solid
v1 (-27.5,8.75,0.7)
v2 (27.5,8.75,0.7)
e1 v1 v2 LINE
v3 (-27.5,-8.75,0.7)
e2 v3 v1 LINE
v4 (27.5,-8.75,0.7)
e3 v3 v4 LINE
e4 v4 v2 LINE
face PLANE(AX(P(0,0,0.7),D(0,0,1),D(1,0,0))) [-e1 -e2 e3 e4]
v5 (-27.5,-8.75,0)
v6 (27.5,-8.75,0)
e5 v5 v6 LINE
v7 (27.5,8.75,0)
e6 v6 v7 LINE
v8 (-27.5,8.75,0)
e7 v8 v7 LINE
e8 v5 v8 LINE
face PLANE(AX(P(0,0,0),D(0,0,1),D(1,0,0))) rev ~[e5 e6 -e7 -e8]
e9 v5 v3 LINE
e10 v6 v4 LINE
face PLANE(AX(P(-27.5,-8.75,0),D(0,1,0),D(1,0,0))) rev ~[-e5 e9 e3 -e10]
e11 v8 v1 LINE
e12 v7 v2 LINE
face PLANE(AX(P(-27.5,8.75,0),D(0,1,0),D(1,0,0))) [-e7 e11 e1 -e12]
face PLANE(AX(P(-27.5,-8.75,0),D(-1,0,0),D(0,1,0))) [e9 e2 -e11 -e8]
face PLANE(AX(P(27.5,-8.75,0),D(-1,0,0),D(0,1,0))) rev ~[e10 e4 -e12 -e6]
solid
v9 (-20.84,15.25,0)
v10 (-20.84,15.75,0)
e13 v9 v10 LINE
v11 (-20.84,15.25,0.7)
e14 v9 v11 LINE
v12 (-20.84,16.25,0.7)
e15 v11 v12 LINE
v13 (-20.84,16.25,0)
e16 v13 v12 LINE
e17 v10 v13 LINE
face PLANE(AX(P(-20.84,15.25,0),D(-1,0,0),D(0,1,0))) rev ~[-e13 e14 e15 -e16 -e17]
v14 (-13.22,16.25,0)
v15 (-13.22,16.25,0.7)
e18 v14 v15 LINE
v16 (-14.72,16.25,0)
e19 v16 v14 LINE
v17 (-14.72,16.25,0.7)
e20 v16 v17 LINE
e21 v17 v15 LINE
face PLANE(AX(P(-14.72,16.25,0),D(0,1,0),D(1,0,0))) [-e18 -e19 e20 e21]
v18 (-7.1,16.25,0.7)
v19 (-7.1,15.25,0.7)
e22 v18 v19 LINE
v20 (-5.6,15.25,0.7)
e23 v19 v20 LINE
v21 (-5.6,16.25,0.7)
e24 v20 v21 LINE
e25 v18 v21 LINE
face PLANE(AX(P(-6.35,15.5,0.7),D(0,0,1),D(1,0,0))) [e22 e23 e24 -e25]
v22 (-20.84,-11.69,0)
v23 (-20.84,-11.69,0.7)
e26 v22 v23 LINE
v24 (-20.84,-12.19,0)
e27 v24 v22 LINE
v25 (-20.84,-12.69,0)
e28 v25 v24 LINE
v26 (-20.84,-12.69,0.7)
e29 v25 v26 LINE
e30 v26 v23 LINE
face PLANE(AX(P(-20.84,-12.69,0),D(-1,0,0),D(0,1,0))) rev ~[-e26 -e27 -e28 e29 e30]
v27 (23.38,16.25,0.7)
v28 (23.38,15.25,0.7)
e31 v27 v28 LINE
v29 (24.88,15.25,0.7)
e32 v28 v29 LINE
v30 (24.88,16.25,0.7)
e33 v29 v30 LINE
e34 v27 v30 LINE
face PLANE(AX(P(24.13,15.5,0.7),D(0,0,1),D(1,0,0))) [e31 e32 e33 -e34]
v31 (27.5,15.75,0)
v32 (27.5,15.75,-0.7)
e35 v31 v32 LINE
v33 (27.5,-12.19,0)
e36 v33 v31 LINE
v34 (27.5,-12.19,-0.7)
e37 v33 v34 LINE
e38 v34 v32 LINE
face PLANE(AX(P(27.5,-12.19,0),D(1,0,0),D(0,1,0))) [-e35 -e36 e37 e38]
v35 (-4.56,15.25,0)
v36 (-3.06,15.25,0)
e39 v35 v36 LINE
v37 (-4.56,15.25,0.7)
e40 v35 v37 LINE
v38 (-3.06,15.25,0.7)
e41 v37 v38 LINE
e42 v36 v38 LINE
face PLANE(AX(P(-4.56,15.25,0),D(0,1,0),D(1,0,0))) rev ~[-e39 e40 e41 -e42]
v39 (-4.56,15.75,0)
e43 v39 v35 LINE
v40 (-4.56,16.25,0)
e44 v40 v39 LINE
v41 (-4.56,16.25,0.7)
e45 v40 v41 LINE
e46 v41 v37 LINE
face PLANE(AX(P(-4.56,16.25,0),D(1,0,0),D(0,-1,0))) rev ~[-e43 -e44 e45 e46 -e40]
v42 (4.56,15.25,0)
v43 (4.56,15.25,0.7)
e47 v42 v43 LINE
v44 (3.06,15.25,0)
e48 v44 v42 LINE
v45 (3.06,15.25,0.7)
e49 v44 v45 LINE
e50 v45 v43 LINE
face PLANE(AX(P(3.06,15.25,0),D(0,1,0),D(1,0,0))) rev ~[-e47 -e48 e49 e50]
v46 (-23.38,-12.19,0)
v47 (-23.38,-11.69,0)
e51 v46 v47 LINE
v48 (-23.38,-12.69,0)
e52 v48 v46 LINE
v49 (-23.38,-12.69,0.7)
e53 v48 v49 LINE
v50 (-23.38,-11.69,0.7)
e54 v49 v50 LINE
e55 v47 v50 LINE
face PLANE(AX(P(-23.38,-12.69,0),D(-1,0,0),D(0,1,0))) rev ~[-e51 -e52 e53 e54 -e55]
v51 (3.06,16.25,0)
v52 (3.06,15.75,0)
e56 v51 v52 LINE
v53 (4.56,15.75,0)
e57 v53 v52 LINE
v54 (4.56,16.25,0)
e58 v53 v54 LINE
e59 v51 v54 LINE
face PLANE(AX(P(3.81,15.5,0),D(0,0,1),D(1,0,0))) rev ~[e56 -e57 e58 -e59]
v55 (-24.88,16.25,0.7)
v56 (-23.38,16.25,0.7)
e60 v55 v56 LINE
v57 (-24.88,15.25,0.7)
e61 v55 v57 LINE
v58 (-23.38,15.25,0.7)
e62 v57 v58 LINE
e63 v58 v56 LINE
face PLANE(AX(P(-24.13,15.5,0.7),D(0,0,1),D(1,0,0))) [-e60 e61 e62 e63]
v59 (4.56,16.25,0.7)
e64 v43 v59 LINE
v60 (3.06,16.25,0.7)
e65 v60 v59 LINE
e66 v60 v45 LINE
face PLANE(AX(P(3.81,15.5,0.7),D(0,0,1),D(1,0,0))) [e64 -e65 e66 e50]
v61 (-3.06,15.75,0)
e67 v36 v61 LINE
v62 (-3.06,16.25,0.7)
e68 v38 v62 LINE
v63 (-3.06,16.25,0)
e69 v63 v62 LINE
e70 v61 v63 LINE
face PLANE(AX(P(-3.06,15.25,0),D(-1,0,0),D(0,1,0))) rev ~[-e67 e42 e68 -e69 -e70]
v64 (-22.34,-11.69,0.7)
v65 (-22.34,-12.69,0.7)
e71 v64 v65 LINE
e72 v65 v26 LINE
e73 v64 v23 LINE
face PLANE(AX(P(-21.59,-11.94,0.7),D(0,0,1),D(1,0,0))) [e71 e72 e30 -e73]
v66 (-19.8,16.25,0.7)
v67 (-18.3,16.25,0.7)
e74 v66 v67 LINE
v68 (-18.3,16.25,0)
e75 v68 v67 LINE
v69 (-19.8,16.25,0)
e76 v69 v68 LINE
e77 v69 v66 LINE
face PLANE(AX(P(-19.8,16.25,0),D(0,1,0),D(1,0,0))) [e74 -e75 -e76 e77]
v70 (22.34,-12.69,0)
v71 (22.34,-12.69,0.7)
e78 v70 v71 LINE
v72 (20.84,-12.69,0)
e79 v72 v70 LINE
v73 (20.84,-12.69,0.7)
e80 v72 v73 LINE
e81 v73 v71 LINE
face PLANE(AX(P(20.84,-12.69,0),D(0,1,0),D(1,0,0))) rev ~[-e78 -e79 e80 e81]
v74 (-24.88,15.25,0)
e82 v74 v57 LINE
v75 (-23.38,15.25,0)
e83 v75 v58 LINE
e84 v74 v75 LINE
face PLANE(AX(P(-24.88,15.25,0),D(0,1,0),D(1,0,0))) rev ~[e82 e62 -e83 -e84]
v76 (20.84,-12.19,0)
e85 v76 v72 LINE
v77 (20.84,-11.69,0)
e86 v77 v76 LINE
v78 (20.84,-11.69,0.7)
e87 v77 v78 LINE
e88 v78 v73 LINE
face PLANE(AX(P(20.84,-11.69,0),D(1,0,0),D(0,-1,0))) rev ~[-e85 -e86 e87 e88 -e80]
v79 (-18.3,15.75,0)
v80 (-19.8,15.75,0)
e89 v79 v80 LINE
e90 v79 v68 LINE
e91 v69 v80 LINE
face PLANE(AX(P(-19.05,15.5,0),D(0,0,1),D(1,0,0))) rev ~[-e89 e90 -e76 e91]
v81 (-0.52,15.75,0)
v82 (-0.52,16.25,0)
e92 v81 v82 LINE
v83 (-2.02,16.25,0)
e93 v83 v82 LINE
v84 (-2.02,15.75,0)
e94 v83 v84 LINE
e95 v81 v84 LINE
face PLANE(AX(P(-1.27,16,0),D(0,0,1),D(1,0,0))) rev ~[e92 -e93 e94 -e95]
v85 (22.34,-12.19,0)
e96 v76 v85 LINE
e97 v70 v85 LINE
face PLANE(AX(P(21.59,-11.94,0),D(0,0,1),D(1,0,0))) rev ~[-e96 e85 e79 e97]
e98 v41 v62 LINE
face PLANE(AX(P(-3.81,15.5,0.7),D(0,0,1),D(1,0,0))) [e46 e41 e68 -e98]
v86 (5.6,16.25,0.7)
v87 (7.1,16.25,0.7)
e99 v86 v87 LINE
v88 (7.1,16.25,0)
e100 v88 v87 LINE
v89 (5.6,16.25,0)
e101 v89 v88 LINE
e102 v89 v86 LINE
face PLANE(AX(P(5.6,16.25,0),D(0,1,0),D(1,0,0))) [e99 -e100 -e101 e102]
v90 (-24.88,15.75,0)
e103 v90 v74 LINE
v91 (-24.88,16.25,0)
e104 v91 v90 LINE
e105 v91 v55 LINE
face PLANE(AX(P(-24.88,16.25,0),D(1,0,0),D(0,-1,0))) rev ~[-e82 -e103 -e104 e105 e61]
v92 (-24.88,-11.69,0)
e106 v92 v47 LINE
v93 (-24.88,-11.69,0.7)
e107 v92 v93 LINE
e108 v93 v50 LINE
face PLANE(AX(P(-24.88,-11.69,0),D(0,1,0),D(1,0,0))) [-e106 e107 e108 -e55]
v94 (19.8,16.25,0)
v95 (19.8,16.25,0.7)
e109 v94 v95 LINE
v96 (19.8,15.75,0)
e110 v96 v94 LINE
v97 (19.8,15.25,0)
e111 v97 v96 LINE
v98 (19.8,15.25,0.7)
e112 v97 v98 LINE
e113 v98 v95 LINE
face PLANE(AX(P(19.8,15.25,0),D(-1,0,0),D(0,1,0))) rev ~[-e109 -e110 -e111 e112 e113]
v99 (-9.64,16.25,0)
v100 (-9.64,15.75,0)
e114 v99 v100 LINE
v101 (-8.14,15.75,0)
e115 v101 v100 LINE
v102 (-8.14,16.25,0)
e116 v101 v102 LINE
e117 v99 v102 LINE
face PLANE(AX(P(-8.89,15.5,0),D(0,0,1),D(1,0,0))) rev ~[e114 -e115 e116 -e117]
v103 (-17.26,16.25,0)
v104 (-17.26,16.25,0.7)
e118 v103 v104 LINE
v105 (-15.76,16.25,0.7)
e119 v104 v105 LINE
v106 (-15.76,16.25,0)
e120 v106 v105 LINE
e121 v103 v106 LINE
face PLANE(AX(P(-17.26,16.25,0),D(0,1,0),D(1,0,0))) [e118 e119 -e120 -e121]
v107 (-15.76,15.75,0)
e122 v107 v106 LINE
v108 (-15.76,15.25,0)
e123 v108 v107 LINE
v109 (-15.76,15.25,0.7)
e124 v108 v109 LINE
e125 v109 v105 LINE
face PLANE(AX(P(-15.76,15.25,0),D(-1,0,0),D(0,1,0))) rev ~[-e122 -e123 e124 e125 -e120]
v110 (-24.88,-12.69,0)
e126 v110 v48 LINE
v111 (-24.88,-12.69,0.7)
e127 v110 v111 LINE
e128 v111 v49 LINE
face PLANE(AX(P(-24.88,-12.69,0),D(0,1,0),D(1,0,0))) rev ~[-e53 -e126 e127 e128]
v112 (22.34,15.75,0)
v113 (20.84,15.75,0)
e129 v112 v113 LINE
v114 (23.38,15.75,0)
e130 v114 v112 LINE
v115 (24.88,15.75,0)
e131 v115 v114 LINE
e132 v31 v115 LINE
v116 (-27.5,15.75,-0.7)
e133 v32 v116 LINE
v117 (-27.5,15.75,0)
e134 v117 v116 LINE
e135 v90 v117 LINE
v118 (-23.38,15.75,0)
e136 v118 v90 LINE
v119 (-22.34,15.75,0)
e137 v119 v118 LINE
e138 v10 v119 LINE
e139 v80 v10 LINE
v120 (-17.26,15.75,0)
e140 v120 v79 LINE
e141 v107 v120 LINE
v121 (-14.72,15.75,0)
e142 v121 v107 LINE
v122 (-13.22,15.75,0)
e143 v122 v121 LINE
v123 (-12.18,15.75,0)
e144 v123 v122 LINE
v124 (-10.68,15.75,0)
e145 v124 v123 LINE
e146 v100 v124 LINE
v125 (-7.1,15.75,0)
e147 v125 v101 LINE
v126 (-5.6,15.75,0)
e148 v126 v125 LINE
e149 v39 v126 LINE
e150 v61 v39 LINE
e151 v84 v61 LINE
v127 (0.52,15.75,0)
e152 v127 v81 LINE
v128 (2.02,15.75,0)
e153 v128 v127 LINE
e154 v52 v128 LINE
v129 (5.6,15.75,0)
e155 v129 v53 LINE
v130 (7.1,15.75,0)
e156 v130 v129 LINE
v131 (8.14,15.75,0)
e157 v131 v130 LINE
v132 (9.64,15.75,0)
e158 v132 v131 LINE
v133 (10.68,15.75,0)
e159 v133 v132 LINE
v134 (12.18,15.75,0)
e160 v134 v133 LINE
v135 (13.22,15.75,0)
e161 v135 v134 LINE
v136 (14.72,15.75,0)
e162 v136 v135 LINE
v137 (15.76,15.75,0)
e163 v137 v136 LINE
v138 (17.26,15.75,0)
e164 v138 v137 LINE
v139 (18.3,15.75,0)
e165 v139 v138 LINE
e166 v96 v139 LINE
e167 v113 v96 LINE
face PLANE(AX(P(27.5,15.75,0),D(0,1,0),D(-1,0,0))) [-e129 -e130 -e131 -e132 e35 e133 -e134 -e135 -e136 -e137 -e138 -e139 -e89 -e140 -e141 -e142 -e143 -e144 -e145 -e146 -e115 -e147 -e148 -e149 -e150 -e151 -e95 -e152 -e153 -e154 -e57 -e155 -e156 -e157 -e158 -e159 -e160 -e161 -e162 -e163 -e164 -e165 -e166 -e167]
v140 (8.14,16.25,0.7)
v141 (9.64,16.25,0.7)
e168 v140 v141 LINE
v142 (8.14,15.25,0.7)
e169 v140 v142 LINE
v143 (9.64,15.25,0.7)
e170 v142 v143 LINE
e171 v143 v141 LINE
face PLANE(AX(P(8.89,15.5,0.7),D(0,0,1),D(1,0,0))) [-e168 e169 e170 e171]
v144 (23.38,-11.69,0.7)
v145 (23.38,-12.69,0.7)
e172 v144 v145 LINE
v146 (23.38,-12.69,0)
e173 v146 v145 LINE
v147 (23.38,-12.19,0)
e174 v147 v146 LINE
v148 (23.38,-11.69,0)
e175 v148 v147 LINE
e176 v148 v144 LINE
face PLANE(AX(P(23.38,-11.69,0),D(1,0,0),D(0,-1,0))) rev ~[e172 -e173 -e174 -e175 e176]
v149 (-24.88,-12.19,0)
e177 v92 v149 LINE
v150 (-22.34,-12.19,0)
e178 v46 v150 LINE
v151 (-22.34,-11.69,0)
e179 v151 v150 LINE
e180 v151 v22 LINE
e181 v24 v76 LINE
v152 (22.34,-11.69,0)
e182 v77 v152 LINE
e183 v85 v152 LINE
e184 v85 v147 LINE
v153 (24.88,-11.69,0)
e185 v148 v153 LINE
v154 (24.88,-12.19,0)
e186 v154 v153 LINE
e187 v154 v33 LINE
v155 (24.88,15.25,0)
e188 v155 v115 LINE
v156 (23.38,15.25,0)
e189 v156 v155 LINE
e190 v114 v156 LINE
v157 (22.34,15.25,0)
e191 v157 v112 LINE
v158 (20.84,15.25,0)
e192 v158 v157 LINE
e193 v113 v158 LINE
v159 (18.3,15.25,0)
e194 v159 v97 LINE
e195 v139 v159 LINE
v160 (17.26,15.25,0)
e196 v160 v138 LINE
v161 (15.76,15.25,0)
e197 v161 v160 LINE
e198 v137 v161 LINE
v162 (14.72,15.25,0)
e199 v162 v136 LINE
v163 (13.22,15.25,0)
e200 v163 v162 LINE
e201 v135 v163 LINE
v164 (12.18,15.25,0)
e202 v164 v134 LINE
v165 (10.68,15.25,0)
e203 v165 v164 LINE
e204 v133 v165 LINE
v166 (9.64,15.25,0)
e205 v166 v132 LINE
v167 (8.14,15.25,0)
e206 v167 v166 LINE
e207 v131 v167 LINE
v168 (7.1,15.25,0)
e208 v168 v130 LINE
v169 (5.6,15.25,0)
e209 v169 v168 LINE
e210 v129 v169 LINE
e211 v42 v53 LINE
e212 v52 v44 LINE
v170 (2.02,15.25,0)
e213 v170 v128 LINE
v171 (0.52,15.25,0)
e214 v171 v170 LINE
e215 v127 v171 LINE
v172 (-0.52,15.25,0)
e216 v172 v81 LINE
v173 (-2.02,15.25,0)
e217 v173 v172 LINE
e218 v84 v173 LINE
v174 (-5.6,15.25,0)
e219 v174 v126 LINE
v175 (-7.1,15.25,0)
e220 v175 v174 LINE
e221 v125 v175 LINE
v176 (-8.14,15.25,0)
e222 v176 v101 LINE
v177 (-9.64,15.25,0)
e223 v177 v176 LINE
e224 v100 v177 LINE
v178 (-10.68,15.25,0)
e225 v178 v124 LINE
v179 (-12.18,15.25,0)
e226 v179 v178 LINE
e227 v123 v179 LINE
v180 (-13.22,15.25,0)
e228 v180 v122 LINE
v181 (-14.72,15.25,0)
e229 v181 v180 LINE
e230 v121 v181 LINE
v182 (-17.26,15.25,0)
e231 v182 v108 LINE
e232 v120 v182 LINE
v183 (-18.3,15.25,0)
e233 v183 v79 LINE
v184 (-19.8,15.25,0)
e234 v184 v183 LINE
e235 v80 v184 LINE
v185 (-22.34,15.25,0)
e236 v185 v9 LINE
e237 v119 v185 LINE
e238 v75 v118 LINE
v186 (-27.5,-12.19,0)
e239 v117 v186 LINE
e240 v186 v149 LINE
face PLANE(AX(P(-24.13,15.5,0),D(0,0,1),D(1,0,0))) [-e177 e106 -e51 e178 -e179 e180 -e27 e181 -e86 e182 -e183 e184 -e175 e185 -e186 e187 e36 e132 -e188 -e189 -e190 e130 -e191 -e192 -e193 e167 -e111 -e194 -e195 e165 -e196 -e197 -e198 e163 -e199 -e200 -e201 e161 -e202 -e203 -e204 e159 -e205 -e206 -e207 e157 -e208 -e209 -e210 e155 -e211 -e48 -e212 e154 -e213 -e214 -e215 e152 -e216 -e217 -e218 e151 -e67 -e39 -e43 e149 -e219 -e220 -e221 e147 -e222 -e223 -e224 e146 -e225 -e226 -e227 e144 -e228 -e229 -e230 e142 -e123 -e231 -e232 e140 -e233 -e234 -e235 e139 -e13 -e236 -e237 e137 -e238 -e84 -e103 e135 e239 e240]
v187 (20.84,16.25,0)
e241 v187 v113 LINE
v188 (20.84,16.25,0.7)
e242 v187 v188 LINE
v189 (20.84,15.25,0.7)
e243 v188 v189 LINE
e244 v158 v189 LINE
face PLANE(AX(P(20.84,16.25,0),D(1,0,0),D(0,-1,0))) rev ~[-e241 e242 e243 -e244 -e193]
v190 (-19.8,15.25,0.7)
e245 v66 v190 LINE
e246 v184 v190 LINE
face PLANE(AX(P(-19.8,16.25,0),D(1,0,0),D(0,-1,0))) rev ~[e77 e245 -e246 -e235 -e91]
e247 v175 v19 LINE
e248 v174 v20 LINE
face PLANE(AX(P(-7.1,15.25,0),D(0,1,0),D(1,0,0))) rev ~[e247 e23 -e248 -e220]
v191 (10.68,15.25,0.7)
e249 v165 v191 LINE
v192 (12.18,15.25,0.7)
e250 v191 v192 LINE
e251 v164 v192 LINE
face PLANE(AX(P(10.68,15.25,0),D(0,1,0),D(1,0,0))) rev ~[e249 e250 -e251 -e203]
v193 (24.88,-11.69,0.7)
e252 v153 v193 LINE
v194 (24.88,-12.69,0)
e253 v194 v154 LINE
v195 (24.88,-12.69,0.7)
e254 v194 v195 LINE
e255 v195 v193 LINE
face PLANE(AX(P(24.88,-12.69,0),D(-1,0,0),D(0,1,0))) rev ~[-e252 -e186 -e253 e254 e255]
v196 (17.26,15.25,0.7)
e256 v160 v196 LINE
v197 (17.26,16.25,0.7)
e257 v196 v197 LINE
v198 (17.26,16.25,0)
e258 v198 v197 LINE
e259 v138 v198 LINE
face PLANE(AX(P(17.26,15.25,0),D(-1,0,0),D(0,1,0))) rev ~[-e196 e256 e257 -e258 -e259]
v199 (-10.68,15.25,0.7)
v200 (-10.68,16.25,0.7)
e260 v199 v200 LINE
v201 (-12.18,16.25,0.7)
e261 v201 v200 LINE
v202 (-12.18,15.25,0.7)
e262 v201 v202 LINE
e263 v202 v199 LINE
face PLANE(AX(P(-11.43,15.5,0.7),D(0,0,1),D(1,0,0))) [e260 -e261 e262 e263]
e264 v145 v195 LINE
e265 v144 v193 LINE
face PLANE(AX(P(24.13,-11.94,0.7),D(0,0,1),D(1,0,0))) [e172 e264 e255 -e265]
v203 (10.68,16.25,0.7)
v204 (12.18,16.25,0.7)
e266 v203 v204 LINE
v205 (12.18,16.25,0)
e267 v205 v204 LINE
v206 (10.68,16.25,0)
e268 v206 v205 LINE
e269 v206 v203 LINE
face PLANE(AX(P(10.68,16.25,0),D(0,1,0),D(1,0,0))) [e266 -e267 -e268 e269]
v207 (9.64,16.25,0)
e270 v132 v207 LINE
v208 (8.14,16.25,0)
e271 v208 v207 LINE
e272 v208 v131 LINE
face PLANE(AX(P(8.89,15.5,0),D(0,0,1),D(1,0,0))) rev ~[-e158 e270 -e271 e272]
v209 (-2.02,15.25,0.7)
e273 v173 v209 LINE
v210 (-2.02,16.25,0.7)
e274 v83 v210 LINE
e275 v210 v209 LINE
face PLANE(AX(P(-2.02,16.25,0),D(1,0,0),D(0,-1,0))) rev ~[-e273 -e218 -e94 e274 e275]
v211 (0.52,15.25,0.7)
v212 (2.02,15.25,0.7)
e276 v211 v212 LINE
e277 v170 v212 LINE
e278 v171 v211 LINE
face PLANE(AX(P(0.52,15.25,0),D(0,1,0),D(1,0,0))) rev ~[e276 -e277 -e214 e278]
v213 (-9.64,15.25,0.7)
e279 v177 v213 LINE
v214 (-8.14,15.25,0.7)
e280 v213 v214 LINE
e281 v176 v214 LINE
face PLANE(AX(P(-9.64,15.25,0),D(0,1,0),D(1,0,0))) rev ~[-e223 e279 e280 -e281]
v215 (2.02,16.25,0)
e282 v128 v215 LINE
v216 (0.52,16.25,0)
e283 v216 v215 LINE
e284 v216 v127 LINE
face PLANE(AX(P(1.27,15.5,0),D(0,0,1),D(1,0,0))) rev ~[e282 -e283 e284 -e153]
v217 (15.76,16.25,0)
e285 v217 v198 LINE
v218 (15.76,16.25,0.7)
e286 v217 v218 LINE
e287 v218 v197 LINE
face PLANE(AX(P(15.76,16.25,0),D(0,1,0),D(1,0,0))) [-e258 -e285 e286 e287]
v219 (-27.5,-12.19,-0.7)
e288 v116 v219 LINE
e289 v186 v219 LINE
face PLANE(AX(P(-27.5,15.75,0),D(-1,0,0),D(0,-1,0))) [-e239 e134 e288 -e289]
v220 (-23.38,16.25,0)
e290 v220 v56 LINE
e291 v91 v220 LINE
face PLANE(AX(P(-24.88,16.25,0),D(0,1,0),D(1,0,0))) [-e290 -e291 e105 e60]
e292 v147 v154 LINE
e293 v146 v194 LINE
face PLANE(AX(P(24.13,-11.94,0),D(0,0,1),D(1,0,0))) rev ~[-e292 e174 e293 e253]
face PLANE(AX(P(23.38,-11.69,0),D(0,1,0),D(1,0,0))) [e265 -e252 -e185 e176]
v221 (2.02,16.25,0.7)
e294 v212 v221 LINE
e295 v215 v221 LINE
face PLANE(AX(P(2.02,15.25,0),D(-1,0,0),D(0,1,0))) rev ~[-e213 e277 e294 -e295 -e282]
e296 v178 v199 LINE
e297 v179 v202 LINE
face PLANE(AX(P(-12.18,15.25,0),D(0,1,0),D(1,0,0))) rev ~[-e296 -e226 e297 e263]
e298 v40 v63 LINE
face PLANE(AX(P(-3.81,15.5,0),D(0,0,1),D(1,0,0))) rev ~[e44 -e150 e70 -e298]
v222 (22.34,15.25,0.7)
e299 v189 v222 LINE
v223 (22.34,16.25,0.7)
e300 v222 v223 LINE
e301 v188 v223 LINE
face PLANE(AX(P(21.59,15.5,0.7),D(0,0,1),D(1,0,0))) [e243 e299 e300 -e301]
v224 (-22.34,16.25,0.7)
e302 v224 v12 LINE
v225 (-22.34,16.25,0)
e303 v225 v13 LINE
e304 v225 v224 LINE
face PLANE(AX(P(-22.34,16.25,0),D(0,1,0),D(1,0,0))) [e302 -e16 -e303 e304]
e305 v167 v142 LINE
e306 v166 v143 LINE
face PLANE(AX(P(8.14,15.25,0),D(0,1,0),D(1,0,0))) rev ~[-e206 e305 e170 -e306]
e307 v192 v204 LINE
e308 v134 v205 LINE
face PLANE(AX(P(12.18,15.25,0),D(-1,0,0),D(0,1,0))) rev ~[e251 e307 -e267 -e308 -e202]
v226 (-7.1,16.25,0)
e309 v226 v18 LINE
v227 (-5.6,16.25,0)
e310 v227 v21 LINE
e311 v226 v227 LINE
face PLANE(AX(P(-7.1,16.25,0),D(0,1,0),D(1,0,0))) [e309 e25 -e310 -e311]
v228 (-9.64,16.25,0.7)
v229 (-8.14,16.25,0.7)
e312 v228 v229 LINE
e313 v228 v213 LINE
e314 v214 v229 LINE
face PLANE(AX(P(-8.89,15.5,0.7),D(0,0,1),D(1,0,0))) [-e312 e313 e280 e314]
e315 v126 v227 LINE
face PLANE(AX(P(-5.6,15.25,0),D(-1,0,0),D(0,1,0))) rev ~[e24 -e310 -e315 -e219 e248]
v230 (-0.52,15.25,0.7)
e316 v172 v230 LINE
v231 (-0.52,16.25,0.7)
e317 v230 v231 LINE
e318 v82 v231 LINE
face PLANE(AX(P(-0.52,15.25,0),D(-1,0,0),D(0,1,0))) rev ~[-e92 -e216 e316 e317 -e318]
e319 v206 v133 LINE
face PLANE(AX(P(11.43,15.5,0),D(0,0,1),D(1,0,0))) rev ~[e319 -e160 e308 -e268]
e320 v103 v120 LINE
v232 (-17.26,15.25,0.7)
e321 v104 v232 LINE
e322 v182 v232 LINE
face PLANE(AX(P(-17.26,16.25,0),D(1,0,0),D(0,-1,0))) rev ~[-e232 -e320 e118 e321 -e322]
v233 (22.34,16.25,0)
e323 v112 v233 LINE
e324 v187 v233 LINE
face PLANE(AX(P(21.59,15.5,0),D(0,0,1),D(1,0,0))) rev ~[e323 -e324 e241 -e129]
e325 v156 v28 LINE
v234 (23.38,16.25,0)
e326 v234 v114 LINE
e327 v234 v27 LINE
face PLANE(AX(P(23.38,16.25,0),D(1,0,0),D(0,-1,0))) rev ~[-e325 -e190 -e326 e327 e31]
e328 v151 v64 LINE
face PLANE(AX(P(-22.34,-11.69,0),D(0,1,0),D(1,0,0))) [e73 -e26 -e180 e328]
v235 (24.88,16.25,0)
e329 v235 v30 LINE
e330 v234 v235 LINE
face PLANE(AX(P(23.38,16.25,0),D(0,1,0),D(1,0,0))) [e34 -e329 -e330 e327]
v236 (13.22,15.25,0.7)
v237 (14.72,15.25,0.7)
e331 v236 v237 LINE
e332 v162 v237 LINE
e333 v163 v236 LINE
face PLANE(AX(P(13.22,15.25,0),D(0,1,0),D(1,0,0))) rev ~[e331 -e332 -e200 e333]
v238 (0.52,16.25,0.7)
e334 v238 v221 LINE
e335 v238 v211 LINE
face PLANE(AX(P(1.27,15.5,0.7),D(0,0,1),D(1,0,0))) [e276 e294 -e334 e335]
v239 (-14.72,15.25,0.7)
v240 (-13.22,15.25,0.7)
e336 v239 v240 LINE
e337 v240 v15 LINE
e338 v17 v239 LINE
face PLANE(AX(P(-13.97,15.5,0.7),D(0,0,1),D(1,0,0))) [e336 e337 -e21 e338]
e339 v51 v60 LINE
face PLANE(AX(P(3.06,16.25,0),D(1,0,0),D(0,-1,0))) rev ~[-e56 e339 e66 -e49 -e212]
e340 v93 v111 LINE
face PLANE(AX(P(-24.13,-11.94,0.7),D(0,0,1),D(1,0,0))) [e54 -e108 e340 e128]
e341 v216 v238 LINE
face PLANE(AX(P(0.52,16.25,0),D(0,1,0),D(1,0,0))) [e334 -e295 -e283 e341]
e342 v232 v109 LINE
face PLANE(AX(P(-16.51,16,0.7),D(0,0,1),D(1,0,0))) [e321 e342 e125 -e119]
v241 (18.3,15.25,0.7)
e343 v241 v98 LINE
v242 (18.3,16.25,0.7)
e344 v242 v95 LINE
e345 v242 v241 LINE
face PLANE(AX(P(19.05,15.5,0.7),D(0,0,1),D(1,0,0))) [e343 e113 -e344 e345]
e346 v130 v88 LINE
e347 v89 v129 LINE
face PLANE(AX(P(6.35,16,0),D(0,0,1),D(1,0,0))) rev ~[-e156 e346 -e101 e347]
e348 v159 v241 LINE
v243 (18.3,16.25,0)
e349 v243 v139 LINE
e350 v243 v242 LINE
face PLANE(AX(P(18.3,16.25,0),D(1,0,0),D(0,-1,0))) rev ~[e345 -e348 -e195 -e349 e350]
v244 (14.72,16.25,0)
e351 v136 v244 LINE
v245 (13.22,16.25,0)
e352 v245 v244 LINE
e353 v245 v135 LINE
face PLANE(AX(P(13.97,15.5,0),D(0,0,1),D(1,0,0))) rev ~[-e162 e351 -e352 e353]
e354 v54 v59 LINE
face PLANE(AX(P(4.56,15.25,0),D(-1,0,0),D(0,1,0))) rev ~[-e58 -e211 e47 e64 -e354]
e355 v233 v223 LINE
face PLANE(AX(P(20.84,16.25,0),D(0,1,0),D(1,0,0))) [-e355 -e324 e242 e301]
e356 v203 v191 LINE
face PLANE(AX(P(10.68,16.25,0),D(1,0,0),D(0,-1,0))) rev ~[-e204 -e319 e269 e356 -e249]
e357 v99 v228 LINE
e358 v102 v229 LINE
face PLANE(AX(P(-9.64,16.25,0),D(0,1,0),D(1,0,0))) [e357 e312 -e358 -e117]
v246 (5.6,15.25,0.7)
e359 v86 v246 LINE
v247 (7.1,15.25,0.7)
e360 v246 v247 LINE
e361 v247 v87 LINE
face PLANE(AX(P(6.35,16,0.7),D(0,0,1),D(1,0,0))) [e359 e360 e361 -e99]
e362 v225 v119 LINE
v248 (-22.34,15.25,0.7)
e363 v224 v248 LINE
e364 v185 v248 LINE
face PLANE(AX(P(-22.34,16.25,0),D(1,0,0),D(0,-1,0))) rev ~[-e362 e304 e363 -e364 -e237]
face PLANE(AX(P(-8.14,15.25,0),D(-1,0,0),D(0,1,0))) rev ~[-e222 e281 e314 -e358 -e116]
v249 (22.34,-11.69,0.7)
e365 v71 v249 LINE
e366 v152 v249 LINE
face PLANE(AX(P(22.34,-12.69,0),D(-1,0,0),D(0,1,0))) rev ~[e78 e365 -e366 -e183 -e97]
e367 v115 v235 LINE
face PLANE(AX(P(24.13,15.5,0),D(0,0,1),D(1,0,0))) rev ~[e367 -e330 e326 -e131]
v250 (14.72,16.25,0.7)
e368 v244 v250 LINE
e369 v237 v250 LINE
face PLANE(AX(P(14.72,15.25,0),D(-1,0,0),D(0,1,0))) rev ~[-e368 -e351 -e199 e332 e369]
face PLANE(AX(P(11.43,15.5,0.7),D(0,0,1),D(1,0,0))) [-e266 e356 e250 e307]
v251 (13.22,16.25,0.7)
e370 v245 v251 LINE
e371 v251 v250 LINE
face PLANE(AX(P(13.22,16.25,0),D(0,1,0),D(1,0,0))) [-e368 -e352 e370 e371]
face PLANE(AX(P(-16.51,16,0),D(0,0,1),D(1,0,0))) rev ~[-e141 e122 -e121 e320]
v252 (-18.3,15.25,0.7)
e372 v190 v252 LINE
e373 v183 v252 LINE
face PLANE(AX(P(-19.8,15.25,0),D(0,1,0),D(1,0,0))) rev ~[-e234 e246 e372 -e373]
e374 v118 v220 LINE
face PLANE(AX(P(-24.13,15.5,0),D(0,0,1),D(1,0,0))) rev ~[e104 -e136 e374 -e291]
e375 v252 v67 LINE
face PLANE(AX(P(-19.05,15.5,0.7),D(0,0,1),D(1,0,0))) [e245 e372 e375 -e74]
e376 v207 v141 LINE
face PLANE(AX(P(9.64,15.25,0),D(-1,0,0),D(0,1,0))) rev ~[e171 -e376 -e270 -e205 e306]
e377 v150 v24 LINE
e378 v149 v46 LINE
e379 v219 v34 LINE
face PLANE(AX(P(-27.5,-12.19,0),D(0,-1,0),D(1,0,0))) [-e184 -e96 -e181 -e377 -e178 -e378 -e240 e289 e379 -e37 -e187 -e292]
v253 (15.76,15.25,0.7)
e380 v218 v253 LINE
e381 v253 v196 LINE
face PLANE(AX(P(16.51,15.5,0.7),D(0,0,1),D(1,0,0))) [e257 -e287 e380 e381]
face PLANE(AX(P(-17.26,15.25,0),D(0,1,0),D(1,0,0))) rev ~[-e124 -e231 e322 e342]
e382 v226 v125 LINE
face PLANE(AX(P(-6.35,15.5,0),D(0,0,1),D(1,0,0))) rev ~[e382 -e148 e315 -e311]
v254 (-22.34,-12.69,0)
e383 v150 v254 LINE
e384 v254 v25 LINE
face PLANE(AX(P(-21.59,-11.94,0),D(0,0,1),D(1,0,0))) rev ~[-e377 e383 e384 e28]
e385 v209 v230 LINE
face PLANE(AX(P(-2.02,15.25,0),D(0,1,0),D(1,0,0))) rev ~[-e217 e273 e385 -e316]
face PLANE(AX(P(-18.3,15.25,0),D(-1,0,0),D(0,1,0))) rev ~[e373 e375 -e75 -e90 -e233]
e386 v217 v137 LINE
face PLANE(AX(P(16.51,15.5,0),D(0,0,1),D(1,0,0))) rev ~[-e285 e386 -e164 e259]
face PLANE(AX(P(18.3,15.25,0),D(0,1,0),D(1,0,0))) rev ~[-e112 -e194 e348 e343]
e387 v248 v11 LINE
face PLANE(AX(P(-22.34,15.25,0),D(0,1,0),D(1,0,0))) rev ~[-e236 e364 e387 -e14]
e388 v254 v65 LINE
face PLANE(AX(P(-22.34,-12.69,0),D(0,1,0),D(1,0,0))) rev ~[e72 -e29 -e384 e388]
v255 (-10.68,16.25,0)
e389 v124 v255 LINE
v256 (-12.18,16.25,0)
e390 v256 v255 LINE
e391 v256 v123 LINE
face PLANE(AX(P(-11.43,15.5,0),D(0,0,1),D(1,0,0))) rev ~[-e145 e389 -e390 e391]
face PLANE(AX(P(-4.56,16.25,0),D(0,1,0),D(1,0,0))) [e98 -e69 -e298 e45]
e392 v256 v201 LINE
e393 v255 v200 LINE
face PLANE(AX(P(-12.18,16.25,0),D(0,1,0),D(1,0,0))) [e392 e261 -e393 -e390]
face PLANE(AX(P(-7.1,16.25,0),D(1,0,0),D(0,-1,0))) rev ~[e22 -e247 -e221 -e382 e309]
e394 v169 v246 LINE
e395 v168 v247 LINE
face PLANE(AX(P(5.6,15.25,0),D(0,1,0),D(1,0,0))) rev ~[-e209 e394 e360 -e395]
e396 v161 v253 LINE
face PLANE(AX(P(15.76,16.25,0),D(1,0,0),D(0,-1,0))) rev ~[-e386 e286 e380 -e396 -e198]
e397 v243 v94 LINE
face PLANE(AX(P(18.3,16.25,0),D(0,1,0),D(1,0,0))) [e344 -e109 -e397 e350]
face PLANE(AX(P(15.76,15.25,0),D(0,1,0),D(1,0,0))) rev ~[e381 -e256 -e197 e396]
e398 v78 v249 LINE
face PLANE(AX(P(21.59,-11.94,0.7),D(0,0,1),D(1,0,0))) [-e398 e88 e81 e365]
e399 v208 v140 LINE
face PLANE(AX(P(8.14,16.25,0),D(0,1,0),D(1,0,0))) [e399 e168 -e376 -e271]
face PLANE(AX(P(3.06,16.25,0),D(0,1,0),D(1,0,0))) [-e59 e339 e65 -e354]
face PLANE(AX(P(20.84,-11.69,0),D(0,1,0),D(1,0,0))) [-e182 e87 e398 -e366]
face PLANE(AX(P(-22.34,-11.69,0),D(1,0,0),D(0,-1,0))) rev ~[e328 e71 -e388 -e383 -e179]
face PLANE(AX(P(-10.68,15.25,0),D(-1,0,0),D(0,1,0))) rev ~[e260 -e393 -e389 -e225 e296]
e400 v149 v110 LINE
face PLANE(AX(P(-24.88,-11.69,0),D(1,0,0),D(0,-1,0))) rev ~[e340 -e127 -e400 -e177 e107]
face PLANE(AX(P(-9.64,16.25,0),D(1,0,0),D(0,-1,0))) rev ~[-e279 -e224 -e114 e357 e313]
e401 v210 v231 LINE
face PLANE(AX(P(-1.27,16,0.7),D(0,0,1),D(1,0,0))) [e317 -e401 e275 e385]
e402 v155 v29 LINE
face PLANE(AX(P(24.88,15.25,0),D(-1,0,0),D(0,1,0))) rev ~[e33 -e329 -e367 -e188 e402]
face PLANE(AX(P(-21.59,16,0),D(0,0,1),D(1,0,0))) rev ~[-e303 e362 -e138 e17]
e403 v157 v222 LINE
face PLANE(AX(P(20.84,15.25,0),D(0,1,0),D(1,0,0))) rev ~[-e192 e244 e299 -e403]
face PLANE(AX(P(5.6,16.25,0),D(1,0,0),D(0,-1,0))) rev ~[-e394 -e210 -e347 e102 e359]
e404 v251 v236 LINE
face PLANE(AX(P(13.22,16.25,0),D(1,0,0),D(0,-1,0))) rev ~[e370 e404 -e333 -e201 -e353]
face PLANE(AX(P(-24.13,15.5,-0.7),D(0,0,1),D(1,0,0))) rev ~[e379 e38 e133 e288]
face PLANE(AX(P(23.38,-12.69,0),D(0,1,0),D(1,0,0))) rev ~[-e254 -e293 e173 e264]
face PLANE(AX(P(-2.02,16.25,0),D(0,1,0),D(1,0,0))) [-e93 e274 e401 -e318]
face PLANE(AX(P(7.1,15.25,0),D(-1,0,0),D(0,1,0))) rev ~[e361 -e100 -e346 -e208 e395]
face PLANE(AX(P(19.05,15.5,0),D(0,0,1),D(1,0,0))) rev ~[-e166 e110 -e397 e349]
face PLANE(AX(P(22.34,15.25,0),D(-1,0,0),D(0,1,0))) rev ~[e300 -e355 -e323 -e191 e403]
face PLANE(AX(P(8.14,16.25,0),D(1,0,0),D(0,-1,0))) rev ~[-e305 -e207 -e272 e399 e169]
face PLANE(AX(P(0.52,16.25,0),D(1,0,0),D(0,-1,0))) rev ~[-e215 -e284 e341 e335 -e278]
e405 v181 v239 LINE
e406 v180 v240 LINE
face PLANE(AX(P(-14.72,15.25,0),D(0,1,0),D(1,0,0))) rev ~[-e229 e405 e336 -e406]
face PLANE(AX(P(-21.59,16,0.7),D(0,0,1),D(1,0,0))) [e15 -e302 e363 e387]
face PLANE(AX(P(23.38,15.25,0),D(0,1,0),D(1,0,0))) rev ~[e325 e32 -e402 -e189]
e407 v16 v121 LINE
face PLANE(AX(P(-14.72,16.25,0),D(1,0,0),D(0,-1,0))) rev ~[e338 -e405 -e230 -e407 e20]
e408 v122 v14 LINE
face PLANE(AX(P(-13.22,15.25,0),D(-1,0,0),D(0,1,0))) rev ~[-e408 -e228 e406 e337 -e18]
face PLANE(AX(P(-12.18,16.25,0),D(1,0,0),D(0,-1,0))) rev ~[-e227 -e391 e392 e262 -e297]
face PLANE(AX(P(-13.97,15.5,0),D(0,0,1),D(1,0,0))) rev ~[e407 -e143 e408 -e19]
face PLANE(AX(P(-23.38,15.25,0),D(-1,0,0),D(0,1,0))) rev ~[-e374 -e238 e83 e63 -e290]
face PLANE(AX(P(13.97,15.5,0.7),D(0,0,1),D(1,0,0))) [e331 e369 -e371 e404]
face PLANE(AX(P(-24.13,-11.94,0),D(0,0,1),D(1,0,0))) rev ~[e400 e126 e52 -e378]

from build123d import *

# Parameters (mm, degrees)
F0_W     = 1.5
F0_H     = 0.5
F0_W_2   = 55
F0_H_2   = 17.5
F0_W_3   = 48.17
F0_H_3   = 13.27
F1_DEPTH = 0.7
F2_DEPTH = 0.7
F3_DEPTH = 0.7


with BuildPart() as f1:
    # F0 (on Top) → F1 (new body)
    with BuildSketch(Plane.XY):
        with Locations((-24.13, 15.5)):
            Rectangle(F0_W, F0_H)
        Rectangle(F0_W_2, F0_H_2)
        Rectangle(F0_W_3, F0_H_3, mode=Mode.SUBTRACT)
        Polygon((27.5, -8.75), (-27.5, -8.75), (-27.5, -12.19), (-24.88, -12.19), (-24.88, -11.69), (-23.38, -11.69), (-23.38, -12.19), (-22.34, -12.19), (-22.34, -11.69), (-20.84, -11.69), (-20.84, -12.19), (20.84, -12.19), (20.84, -11.69), (22.34, -11.69), (22.34, -12.19), (23.38, -12.19), (23.38, -11.69), (24.88, -11.69), (24.88, -12.19), (27.5, -12.19), align=None)
        Rectangle(F0_W_3, F0_H_3)
        Polygon((-24.88, 15.75), (-27.5, 15.75), (-27.5, 8.75), (27.5, 8.75), (27.5, 15.75), (24.88, 15.75), (24.88, 15.25), (23.38, 15.25), (23.38, 15.75), (22.34, 15.75), (22.34, 15.25), (20.84, 15.25), (20.84, 15.75), (19.8, 15.75), (19.8, 15.25), (18.3, 15.25), (18.3, 15.75), (17.26, 15.75), (17.26, 15.25), (15.76, 15.25), (15.76, 15.75), (14.72, 15.75), (14.72, 15.25), (13.22, 15.25), (13.22, 15.75), (12.18, 15.75), (12.18, 15.25), (10.68, 15.25), (10.68, 15.75), (9.64, 15.75), (9.64, 15.25), (8.14, 15.25), (8.14, 15.75), (7.1, 15.75), (7.1, 15.25), (5.6, 15.25), (5.6, 15.75), (4.56, 15.75), (4.56, 15.25), (3.06, 15.25), (3.06, 15.75), (2.02, 15.75), (2.02, 15.25), (0.52, 15.25), (0.52, 15.75), (-0.52, 15.75), (-0.52, 15.25), (-2.02, 15.25), (-2.02, 15.75), (-3.06, 15.75), (-3.06, 15.25), (-4.56, 15.25), (-4.56, 15.75), (-5.6, 15.75), (-5.6, 15.25), (-7.1, 15.25), (-7.1, 15.75), (-8.14, 15.75), (-8.14, 15.25), (-9.64, 15.25), (-9.64, 15.75), (-10.68, 15.75), (-10.68, 15.25), (-12.18, 15.25), (-12.18, 15.75), (-13.22, 15.75), (-13.22, 15.25), (-14.72, 15.25), (-14.72, 15.75), (-15.76, 15.75), (-15.76, 15.25), (-17.26, 15.25), (-17.26, 15.75), (-18.3, 15.75), (-18.3, 15.25), (-19.8, 15.25), (-19.8, 15.75), (-20.84, 15.75), (-20.84, 15.25), (-22.34, 15.25), (-22.34, 15.75), (-23.38, 15.75), (-23.38, 15.25), (-24.88, 15.25), align=None)
        with Locations((-21.59, 15.5)):
            Rectangle(F0_W, F0_H)
        with Locations((-19.05, 15.5)):
            Rectangle(F0_W, F0_H)
        with Locations((-16.51, 15.5)):
            Rectangle(F0_W, F0_H)
        with Locations((-13.97, 15.5)):
            Rectangle(F0_W, F0_H)
        with Locations((-11.43, 15.5)):
            Rectangle(F0_W, F0_H)
        with Locations((-8.89, 15.5)):
            Rectangle(F0_W, F0_H)
        with Locations((-6.35, 15.5)):
            Rectangle(F0_W, F0_H)
        with Locations((-3.81, 15.5)):
            Rectangle(F0_W, F0_H)
        with Locations((-1.27, 15.5)):
            Rectangle(F0_W, F0_H)
        with Locations((1.27, 15.5)):
            Rectangle(F0_W, F0_H)
        with Locations((3.81, 15.5)):
            Rectangle(F0_W, F0_H)
        with Locations((6.35, 15.5)):
            Rectangle(F0_W, F0_H)
        with Locations((8.89, 15.5)):
            Rectangle(F0_W, F0_H)
        with Locations((11.43, 15.5)):
            Rectangle(F0_W, F0_H)
        with Locations((13.97, 15.5)):
            Rectangle(F0_W, F0_H)
        with Locations((16.51, 15.5)):
            Rectangle(F0_W, F0_H)
        with Locations((19.05, 15.5)):
            Rectangle(F0_W, F0_H)
        with Locations((21.59, 15.5)):
            Rectangle(F0_W, F0_H)
        with Locations((24.13, 15.5)):
            Rectangle(F0_W, F0_H)
        with Locations((24.13, -11.94)):
            Rectangle(F0_W, F0_H)
        with Locations((21.59, -11.94)):
            Rectangle(F0_W, F0_H)
        with Locations((-21.59, -11.94)):
            Rectangle(F0_W, F0_H)
        with Locations((-24.13, -11.94)):
            Rectangle(F0_W, F0_H)
    extrude(amount=-F1_DEPTH)

    # F0 (on Top) → F3 (join)
    with BuildSketch(Plane.XY):
        with Locations((-24.13, 15.5)):
            Rectangle(F0_W, F0_H)
        with Locations((-24.13, 16)):
            Rectangle(F0_W, F0_H)
        with Locations((-21.59, 16)):
            Rectangle(F0_W, F0_H)
        with Locations((-21.59, 15.5)):
            Rectangle(F0_W, F0_H)
        with Locations((-19.05, 15.5)):
            Rectangle(F0_W, F0_H)
        with Locations((-19.05, 16)):
            Rectangle(F0_W, F0_H)
        with Locations((-16.51, 16)):
            Rectangle(F0_W, F0_H)
        with Locations((-16.51, 15.5)):
            Rectangle(F0_W, F0_H)
        with Locations((-13.97, 15.5)):
            Rectangle(F0_W, F0_H)
        with Locations((-13.97, 16)):
            Rectangle(F0_W, F0_H)
        with Locations((-11.43, 15.5)):
            Rectangle(F0_W, F0_H)
        with Locations((-11.43, 16)):
            Rectangle(F0_W, F0_H)
        with Locations((-8.89, 15.5)):
            Rectangle(F0_W, F0_H)
        with Locations((-8.89, 16)):
            Rectangle(F0_W, F0_H)
        with Locations((-6.35, 15.5)):
            Rectangle(F0_W, F0_H)
        with Locations((-6.35, 16)):
            Rectangle(F0_W, F0_H)
        with Locations((-3.81, 15.5)):
            Rectangle(F0_W, F0_H)
        with Locations((-3.81, 16)):
            Rectangle(F0_W, F0_H)
        with Locations((-1.27, 16)):
            Rectangle(F0_W, F0_H)
        with Locations((-1.27, 15.5)):
            Rectangle(F0_W, F0_H)
        with Locations((1.27, 15.5)):
            Rectangle(F0_W, F0_H)
        with Locations((1.27, 16)):
            Rectangle(F0_W, F0_H)
        with Locations((3.81, 15.5)):
            Rectangle(F0_W, F0_H)
        with Locations((3.81, 16)):
            Rectangle(F0_W, F0_H)
        with Locations((6.35, 16)):
            Rectangle(F0_W, F0_H)
        with Locations((8.89, 15.5)):
            Rectangle(F0_W, F0_H)
        with Locations((8.89, 16)):
            Rectangle(F0_W, F0_H)
        with Locations((6.35, 15.5)):
            Rectangle(F0_W, F0_H)
        with Locations((11.43, 15.5)):
            Rectangle(F0_W, F0_H)
        with Locations((11.43, 16)):
            Rectangle(F0_W, F0_H)
        with Locations((13.97, 15.5)):
            Rectangle(F0_W, F0_H)
        with Locations((13.97, 16)):
            Rectangle(F0_W, F0_H)
        with Locations((16.51, 15.5)):
            Rectangle(F0_W, F0_H)
        with Locations((16.51, 16)):
            Rectangle(F0_W, F0_H)
        with Locations((19.05, 15.5)):
            Rectangle(F0_W, F0_H)
        with Locations((19.05, 16)):
            Rectangle(F0_W, F0_H)
        with Locations((21.59, 15.5)):
            Rectangle(F0_W, F0_H)
        with Locations((21.59, 16)):
            Rectangle(F0_W, F0_H)
        with Locations((24.13, 15.5)):
            Rectangle(F0_W, F0_H)
        with Locations((24.13, 16)):
            Rectangle(F0_W, F0_H)
        with Locations((24.13, -11.94)):
            Rectangle(F0_W, F0_H)
        with Locations((24.13, -12.44)):
            Rectangle(F0_W, F0_H)
        with Locations((21.59, -11.94)):
            Rectangle(F0_W, F0_H)
        with Locations((21.59, -12.44)):
            Rectangle(F0_W, F0_H)
        with Locations((-24.13, -11.94)):
            Rectangle(F0_W, F0_H)
        with Locations((-24.13, -12.44)):
            Rectangle(F0_W, F0_H)
        with Locations((-21.59, -11.94)):
            Rectangle(F0_W, F0_H)
        with Locations((-21.59, -12.44)):
            Rectangle(F0_W, F0_H)
    extrude(amount=F3_DEPTH)


with BuildPart() as f2:
    # F0 (on Top) → F2 (new body)
    with BuildSketch(Plane.XY):
        Rectangle(F0_W_2, F0_H_2)
        Rectangle(F0_W_3, F0_H_3, mode=Mode.SUBTRACT)
        Rectangle(F0_W_3, F0_H_3)
    extrude(amount=F2_DEPTH)


solid = Compound([f1.part, f2.part])
